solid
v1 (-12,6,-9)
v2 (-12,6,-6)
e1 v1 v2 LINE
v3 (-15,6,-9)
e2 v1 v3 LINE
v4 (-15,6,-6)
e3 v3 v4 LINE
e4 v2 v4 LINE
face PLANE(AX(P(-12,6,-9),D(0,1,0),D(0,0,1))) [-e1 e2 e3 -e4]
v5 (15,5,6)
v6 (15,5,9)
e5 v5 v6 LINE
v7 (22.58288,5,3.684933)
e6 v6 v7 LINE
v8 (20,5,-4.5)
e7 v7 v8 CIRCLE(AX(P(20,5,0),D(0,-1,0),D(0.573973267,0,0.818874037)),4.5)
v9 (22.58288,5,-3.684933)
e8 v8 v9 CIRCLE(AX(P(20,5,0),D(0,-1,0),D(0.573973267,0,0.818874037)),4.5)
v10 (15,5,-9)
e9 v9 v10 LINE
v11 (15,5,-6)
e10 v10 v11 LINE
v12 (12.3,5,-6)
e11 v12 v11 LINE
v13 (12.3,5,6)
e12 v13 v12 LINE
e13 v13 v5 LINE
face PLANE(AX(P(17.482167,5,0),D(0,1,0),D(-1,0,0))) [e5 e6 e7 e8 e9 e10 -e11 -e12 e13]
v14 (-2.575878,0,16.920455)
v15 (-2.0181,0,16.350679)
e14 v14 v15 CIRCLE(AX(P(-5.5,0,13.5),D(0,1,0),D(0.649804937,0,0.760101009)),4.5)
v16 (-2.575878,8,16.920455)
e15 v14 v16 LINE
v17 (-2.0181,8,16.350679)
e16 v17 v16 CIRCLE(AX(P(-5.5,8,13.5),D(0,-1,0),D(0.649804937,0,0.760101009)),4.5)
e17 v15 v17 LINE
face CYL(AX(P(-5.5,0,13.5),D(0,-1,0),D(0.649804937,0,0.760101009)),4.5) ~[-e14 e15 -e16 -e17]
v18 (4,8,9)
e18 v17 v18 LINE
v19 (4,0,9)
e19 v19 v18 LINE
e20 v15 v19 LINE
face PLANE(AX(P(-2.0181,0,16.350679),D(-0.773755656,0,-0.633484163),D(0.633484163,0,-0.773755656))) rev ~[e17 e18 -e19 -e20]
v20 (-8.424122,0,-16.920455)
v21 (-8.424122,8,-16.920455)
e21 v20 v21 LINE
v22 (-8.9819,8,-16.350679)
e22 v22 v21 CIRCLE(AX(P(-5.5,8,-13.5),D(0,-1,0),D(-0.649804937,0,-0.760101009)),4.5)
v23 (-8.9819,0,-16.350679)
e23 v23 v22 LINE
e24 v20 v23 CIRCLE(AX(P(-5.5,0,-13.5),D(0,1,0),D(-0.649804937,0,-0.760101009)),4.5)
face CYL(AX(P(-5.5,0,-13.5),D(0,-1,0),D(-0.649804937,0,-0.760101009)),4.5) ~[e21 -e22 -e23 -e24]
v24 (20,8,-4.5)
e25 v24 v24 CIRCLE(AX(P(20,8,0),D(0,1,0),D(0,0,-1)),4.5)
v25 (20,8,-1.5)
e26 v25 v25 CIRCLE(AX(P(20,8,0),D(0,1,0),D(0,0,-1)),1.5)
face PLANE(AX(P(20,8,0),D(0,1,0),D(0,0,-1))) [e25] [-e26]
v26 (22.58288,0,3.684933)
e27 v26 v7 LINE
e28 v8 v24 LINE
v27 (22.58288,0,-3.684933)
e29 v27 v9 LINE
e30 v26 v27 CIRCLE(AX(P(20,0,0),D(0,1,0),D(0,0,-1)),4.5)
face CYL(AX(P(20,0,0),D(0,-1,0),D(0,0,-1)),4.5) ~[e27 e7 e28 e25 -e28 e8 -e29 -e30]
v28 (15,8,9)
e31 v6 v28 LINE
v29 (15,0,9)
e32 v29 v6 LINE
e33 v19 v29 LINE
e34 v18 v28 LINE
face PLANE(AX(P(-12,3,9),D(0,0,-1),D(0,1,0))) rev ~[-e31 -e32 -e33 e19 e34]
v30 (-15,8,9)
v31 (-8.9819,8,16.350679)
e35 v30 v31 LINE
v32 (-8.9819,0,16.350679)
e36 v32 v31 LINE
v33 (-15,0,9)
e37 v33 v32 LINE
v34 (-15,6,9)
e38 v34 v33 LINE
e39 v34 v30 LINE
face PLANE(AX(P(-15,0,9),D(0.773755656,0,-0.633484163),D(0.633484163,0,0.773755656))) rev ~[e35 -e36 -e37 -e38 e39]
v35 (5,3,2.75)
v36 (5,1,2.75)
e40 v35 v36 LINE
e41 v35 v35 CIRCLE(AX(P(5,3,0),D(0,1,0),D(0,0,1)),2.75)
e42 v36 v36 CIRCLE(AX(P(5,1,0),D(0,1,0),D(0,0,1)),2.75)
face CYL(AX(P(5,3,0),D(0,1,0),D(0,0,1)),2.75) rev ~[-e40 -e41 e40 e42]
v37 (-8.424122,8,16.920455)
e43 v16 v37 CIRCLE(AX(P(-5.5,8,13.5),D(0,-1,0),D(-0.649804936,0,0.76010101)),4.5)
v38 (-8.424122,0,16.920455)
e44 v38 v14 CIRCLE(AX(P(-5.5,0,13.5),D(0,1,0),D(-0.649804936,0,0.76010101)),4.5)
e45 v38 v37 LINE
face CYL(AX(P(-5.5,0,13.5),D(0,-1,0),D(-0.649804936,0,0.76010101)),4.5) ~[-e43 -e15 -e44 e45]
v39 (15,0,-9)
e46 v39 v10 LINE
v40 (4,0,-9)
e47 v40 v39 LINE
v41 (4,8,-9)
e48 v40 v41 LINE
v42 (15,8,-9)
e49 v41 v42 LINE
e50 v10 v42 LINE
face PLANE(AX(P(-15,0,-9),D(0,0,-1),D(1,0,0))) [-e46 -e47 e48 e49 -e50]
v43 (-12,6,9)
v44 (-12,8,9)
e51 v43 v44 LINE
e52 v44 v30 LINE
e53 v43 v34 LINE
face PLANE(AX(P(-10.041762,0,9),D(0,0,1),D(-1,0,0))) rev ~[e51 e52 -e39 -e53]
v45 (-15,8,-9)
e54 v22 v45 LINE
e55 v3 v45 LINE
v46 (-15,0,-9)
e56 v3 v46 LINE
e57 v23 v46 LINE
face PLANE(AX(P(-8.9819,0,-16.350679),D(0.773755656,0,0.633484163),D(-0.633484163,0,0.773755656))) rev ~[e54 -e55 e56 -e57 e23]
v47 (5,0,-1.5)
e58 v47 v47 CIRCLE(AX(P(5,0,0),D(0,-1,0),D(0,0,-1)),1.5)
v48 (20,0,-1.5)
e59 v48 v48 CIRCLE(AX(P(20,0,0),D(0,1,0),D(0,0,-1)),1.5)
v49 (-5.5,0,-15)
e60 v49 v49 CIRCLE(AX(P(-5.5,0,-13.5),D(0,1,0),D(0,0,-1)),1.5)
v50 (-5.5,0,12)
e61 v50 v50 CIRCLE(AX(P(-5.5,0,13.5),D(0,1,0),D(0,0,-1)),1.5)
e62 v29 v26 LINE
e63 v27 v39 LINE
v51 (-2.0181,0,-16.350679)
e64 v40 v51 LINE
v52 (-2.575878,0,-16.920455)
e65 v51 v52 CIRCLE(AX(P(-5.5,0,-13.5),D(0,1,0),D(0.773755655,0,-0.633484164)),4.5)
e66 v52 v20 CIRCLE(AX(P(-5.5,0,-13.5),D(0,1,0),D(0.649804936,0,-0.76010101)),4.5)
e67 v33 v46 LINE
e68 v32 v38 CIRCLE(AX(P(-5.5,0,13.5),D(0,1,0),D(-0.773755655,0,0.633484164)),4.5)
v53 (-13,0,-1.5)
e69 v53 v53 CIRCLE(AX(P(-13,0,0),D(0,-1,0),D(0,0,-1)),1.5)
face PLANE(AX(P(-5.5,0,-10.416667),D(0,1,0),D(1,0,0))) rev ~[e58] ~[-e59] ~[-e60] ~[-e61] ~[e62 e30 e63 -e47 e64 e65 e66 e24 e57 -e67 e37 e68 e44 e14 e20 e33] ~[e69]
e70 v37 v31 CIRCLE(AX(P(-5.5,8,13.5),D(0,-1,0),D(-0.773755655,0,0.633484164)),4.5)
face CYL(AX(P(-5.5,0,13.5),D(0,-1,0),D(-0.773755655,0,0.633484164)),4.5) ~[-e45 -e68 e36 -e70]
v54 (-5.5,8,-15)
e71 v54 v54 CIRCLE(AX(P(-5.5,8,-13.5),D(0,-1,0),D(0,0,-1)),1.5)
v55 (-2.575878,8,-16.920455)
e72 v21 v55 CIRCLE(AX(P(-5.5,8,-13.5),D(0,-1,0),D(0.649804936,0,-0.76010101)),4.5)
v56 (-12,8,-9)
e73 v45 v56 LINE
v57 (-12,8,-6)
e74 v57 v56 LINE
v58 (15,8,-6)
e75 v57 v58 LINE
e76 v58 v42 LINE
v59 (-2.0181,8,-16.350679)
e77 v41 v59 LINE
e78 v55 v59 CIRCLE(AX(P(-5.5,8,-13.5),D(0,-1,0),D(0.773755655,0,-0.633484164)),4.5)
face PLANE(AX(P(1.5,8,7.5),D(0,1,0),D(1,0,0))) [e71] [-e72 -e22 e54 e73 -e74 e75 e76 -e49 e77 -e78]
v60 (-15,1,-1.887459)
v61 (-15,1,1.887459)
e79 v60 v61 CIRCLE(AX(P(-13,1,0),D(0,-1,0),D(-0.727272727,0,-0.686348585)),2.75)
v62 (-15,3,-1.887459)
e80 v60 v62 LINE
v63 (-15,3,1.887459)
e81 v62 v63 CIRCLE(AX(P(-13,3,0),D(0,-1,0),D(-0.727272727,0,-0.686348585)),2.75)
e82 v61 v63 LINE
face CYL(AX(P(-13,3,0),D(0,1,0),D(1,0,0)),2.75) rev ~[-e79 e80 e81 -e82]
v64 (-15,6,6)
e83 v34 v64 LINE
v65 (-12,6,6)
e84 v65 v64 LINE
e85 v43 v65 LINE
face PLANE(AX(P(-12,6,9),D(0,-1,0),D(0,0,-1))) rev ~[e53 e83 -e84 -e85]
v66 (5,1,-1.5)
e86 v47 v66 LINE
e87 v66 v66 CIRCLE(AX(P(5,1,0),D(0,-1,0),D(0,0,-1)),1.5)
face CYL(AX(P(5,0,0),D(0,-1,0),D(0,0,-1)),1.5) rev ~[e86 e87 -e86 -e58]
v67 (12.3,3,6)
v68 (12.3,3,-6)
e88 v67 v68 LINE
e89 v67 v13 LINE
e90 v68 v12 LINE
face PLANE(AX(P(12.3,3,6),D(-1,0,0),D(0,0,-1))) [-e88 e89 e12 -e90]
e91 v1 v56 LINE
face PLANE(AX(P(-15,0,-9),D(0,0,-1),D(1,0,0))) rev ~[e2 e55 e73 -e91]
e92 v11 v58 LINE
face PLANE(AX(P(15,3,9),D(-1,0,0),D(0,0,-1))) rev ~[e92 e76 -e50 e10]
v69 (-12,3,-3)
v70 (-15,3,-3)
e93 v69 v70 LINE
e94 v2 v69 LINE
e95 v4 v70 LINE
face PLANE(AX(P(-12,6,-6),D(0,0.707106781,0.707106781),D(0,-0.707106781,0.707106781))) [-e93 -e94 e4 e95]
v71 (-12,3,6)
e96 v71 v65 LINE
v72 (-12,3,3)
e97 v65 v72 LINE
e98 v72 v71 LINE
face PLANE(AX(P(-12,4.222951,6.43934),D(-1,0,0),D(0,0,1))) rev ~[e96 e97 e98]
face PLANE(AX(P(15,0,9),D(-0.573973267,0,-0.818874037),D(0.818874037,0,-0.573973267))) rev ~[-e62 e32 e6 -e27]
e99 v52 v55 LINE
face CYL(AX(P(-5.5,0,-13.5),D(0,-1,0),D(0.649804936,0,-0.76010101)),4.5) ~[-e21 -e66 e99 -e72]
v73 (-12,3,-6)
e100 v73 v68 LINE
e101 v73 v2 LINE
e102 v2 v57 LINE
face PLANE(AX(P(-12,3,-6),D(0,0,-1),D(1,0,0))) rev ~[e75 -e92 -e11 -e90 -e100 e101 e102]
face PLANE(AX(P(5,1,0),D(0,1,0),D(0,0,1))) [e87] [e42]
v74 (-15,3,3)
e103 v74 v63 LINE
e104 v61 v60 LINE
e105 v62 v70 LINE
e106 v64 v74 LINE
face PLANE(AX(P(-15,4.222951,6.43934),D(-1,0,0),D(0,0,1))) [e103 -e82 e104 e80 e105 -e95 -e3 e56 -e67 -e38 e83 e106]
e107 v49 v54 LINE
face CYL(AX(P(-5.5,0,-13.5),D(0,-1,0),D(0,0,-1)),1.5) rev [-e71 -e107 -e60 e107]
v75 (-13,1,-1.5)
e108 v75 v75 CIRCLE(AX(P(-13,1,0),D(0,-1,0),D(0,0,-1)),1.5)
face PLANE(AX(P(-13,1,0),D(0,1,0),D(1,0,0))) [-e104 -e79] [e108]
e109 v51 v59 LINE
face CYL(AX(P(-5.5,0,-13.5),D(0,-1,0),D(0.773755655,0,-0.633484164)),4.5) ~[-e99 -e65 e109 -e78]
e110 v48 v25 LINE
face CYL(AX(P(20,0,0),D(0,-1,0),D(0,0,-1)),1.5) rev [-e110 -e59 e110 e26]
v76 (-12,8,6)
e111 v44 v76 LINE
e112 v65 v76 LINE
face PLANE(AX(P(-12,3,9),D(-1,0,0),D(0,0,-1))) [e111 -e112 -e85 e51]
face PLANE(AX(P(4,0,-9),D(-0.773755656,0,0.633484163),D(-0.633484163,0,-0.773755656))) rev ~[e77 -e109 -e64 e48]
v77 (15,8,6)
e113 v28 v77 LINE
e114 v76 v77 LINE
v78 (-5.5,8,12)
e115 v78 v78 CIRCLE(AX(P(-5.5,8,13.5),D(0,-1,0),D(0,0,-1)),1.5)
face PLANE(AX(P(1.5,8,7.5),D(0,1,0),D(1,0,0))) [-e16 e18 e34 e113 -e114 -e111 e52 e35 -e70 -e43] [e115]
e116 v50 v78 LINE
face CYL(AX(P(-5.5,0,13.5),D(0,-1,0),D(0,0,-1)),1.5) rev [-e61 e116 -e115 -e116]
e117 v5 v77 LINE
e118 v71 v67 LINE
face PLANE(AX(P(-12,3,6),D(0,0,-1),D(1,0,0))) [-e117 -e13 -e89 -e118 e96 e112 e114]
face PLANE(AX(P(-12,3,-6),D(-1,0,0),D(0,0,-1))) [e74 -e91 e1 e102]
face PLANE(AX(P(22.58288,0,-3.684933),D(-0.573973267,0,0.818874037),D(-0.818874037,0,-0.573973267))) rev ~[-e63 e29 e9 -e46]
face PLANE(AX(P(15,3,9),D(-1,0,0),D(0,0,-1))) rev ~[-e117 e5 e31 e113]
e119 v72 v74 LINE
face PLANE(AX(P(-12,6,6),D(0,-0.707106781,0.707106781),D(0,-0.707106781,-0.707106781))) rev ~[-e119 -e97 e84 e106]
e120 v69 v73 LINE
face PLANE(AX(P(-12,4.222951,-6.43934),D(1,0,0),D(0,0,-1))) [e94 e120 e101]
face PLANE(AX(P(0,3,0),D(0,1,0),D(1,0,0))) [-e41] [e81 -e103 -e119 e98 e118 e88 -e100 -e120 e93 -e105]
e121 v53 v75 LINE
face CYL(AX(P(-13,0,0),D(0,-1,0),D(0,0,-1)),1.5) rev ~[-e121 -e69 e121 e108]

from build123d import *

# Parameters (mm, degrees)
SKETCH_1_W          = 30
SKETCH_1_H          = 18
EXTRUDE_1_DEPTH     = 3
SKETCH_2_W          = 27
SKETCH_2_H          = 3
EXTRUDE_2_DEPTH     = 5
SKETCH_3_W          = 2.7
SKETCH_3_H          = 12
EXTRUDE_3_DEPTH     = 2
SKETCH_4_R          = 4.5
SKETCH_4_R_2        = 1.5
EXTRUDE_4_DEPTH     = 8
EXTRUDE_5_DEPTH     = 5
EXTRUDE_6_DEPTH     = 3
SKETCH_11_R         = 1.5
CUT_EXTRUDE_1_DEPTH = 3
SKETCH_12_R         = 2.75
CUT_EXTRUDE_2_DEPTH = 2
EXTRUDE_7_REACH     = 29.299
SKETCH_8_R          = 1.5
SKETCH_8_R_2        = 0.75
SKETCH_13_R         = 1.5
CUT_EXTRUDE_3_DEPTH = 3
SKETCH_14_R         = 2.75
CUT_EXTRUDE_4_DEPTH = 2


with BuildPart() as part:
    # Эскиз1 → Бобышка-Вытянуть1 (new body)
    with BuildSketch(Plane(origin=(0, 0, 0), x_dir=(1, 0, 0), z_dir=(0, 1, 0))):
        Rectangle(SKETCH_1_W, SKETCH_1_H)
    extrude(amount=EXTRUDE_1_DEPTH)

    # Эскиз2 → Бобышка-Вытянуть2 (add)
    with BuildSketch(Plane(origin=(0, 3, 0), x_dir=(1, 0, 0), z_dir=(0, 1, 0))):
        with Locations((1.5, -7.5)):
            Rectangle(SKETCH_2_W, SKETCH_2_H)
        with Locations((1.5, 7.5)):
            Rectangle(SKETCH_2_W, SKETCH_2_H)
    extrude(amount=EXTRUDE_2_DEPTH)

    # Эскиз3 → Бобышка-Вытянуть3 (add)
    with BuildSketch(Plane(origin=(0, 3, 0), x_dir=(1, 0, 0), z_dir=(0, 1, 0))):
        with Locations((13.65, 0)):
            Rectangle(SKETCH_3_W, SKETCH_3_H)
    extrude(amount=EXTRUDE_3_DEPTH)



with BuildPart() as body_2:
    # Эскиз4 → Бобышка-Вытянуть4 (new body)
    with BuildSketch(Plane(origin=(0, 0, 0), x_dir=(1, 0, 0), z_dir=(0, 1, 0))):
        with Locations(Location((20, 0, 0), (0, 0, 90))):
            Circle(SKETCH_4_R)
        with Locations(Location((20, 0, 0), (0, 0, 90))):
            Circle(SKETCH_4_R_2, mode=Mode.SUBTRACT)
    extrude(amount=EXTRUDE_4_DEPTH)


with BuildPart() as part_1:
    add(part.part)

    add(body_2.part)  # Бобышка-Вытянуть5 merges body 2
    # Эскиз5 → Бобышка-Вытянуть5 (add)
    with BuildSketch(Plane.XZ):
        with BuildLine():
            Line((15, 9), (22.582879701, 3.684933167))
            ThreePointArc((22.582879701, 3.684933167), (15.5, 0), (22.582879701, -3.684933167))
            Line((22.582879701, -3.684933167), (15, -9))
            Line((15, -9), (15, 9))
        make_face()
    extrude(amount=-EXTRUDE_5_DEPTH)

    # Эскиз7 → Бобышка-Вытянуть6 (add)
    with BuildSketch(Plane.ZY.offset(12)):
        Polygon((9, 6), (6, 6), (3, 3), (9, 3), align=None)
        Polygon((-3, 3), (-9, 3), (-9, 6), (-6, 6), align=None)
    extrude(amount=EXTRUDE_6_DEPTH)

    # Эскиз11 → Вырез-Вытянуть1 (cut)
    with BuildSketch(Plane.XZ):
        with Locations(Location((-13, 0, 0), (0, 0, 270))):
            Circle(SKETCH_11_R)
    extrude(amount=-CUT_EXTRUDE_1_DEPTH, mode=Mode.SUBTRACT)

    # Эскиз12 → Вырез-Вытянуть2 (cut)
    with BuildSketch(Plane(origin=(0, 3, 0), x_dir=(1, 0, 0), z_dir=(0, 1, 0))):
        with Locations((-13, 0)):
            Circle(SKETCH_12_R)
    extrude(amount=-CUT_EXTRUDE_2_DEPTH, mode=Mode.SUBTRACT)

    # Бобышка-Вытянуть7: up to this face of the body (flat: up to its plane)
    extrude_7_end = Plane(part_1.part.faces().sort_by_distance((1.5, 8, 7.5))[0])
    # Эскиз8 → Бобышка-Вытянуть7 (add, up to the picked face)
    with BuildSketch(Plane(origin=(0, 0, 0), x_dir=(1, 0, 0), z_dir=(0, 1, 0)), mode=Mode.PRIVATE) as extrude_7_sk1:
        with BuildLine():
            Line((-1.468642293, 11.500461294), (-0.958237769, 9))
            Line((-0.958237769, 9), (4, 9))
            Line((4, 9), (-2.018099548, 16.350678733))
            ThreePointArc((-2.018099548, 16.350678733), (-1.262161398, 15.013513786), (-1, 13.5))
            ThreePointArc((-1, 13.5), (-1.118726801, 12.473138199), (-1.468642293, 11.500461294))
        make_face()
    extrude_7_tool1 = split(extrude(extrude_7_sk1.sketch, amount=EXTRUDE_7_REACH, mode=Mode.PRIVATE), bisect_by=extrude_7_end, keep=Keep.BOTH, mode=Mode.PRIVATE)
    # Эскиз8 → Бобышка-Вытянуть7 (add, up to the picked face)
    with BuildSketch(Plane(origin=(0, 0, 0), x_dir=(1, 0, 0), z_dir=(0, 1, 0)), mode=Mode.PRIVATE) as extrude_7_sk2:
        with BuildLine():
            ThreePointArc((-2.018099548, 16.350678733), (-2.284344125, 16.647944931), (-2.575877789, 16.920454545))
            ThreePointArc((-2.575877789, 16.920454545), (-2.568033415, 16.885273128), (-2.560612309, 16.85))
            Line((-2.560612309, 16.85), (-1.468642293, 11.500461294))
            ThreePointArc((-1.468642293, 11.500461294), (-1.118726801, 12.473138199), (-1, 13.5))
            ThreePointArc((-1, 13.5), (-1.262161398, 15.013513786), (-2.018099548, 16.350678733))
        make_face()
    extrude_7_tool2 = split(extrude(extrude_7_sk2.sketch, amount=EXTRUDE_7_REACH, mode=Mode.PRIVATE), bisect_by=extrude_7_end, keep=Keep.BOTH, mode=Mode.PRIVATE)
    # Эскиз8 → Бобышка-Вытянуть7 (add, up to the picked face)
    with BuildSketch(Plane(origin=(0, 0, 0), x_dir=(1, 0, 0), z_dir=(0, 1, 0)), mode=Mode.PRIVATE) as extrude_7_sk3:
        with BuildLine():
            ThreePointArc((-2.575877789, 16.920454545), (-5.5, 18), (-8.424122211, 16.920454545))
            ThreePointArc((-8.424122211, 16.920454545), (-8.431966585, 16.885273128), (-8.439387691, 16.85))
            Line((-8.439387691, 16.85), (-9.531357707, 11.500461294))
            ThreePointArc((-9.531357707, 11.500461294), (-7.871927046, 9.675871068), (-5.5, 9))
            ThreePointArc((-5.5, 9), (-3.128072954, 9.675871068), (-1.468642293, 11.500461294))
            Line((-1.468642293, 11.500461294), (-2.560612309, 16.85))
            ThreePointArc((-2.560612309, 16.85), (-2.568033415, 16.885273128), (-2.575877789, 16.920454545))
        make_face()
        with Locations(Location((-5.5, 13.5, 0), (0, 0, 90))):
            Circle(SKETCH_8_R, mode=Mode.SUBTRACT)
        with Locations((-5.5, 10.416666667)):
            Circle(SKETCH_8_R_2, mode=Mode.SUBTRACT)
        with Locations((-5.5, 16.25)):
            Circle(SKETCH_8_R_2, mode=Mode.SUBTRACT)
    extrude_7_tool3 = split(extrude(extrude_7_sk3.sketch, amount=EXTRUDE_7_REACH, mode=Mode.PRIVATE), bisect_by=extrude_7_end, keep=Keep.BOTH, mode=Mode.PRIVATE)
    # Эскиз8 → Бобышка-Вытянуть7 (add, up to the picked face)
    with BuildSketch(Plane(origin=(0, 0, 0), x_dir=(1, 0, 0), z_dir=(0, 1, 0)), mode=Mode.PRIVATE) as extrude_7_sk4:
        with BuildLine():
            ThreePointArc((-1.468642293, 11.500461294), (-3.128072954, 9.675871068), (-5.5, 9))
            Line((-5.5, 9), (-0.958237769, 9))
            Line((-0.958237769, 9), (-1.468642293, 11.500461294))
        make_face()
    extrude_7_tool4 = split(extrude(extrude_7_sk4.sketch, amount=EXTRUDE_7_REACH, mode=Mode.PRIVATE), bisect_by=extrude_7_end, keep=Keep.BOTH, mode=Mode.PRIVATE)
    # Эскиз8 → Бобышка-Вытянуть7 (add, up to the picked face)
    with BuildSketch(Plane(origin=(0, 0, 0), x_dir=(1, 0, 0), z_dir=(0, 1, 0)), mode=Mode.PRIVATE) as extrude_7_sk5:
        with BuildLine():
            Line((-8.981900452, 16.350678733), (-15, 9))
            Line((-15, 9), (-10.041762231, 9))
            Line((-10.041762231, 9), (-9.531357707, 11.500461294))
            ThreePointArc((-9.531357707, 11.500461294), (-9.971399596, 14.006542846), (-8.981900452, 16.350678733))
        make_face()
    extrude_7_tool5 = split(extrude(extrude_7_sk5.sketch, amount=EXTRUDE_7_REACH, mode=Mode.PRIVATE), bisect_by=extrude_7_end, keep=Keep.BOTH, mode=Mode.PRIVATE)
    # Эскиз8 → Бобышка-Вытянуть7 (add, up to the picked face)
    with BuildSketch(Plane(origin=(0, 0, 0), x_dir=(1, 0, 0), z_dir=(0, 1, 0)), mode=Mode.PRIVATE) as extrude_7_sk6:
        with BuildLine():
            ThreePointArc((-8.424122211, 16.920454545), (-8.715655875, 16.647944931), (-8.981900452, 16.350678733))
            ThreePointArc((-8.981900452, 16.350678733), (-9.971399596, 14.006542846), (-9.531357707, 11.500461294))
            Line((-9.531357707, 11.500461294), (-8.439387691, 16.85))
            ThreePointArc((-8.439387691, 16.85), (-8.431966585, 16.885273128), (-8.424122211, 16.920454545))
        make_face()
    extrude_7_tool6 = split(extrude(extrude_7_sk6.sketch, amount=EXTRUDE_7_REACH, mode=Mode.PRIVATE), bisect_by=extrude_7_end, keep=Keep.BOTH, mode=Mode.PRIVATE)
    # Эскиз8 → Бобышка-Вытянуть7 (add, up to the picked face)
    with BuildSketch(Plane(origin=(0, 0, 0), x_dir=(1, 0, 0), z_dir=(0, 1, 0)), mode=Mode.PRIVATE) as extrude_7_sk7:
        with BuildLine():
            Line((-9.531357707, 11.500461294), (-10.041762231, 9))
            Line((-10.041762231, 9), (-5.5, 9))
            ThreePointArc((-5.5, 9), (-7.871927046, 9.675871068), (-9.531357707, 11.500461294))
        make_face()
    extrude_7_tool7 = split(extrude(extrude_7_sk7.sketch, amount=EXTRUDE_7_REACH, mode=Mode.PRIVATE), bisect_by=extrude_7_end, keep=Keep.BOTH, mode=Mode.PRIVATE)
    # Эскиз8 → Бобышка-Вытянуть7 (add, up to the picked face)
    with BuildSketch(Plane(origin=(0, 0, 0), x_dir=(1, 0, 0), z_dir=(0, 1, 0)), mode=Mode.PRIVATE) as extrude_7_sk8:
        with BuildLine():
            Line((-2.018099548, -16.350678733), (4, -9))
            Line((4, -9), (-0.958237769, -9))
            Line((-0.958237769, -9), (-1.468642293, -11.500461294))
            ThreePointArc((-1.468642293, -11.500461294), (-1.118726801, -12.473138199), (-1, -13.5))
            ThreePointArc((-1, -13.5), (-1.262161398, -15.013513786), (-2.018099548, -16.350678733))
        make_face()
    extrude_7_tool8 = split(extrude(extrude_7_sk8.sketch, amount=EXTRUDE_7_REACH, mode=Mode.PRIVATE), bisect_by=extrude_7_end, keep=Keep.BOTH, mode=Mode.PRIVATE)
    # Эскиз8 → Бобышка-Вытянуть7 (add, up to the picked face)
    with BuildSketch(Plane(origin=(0, 0, 0), x_dir=(1, 0, 0), z_dir=(0, 1, 0)), mode=Mode.PRIVATE) as extrude_7_sk9:
        with BuildLine():
            Line((-1.468642293, -11.500461294), (-0.958237769, -9))
            Line((-0.958237769, -9), (-5.5, -9))
            ThreePointArc((-5.5, -9), (-3.128072954, -9.675871068), (-1.468642293, -11.500461294))
        make_face()
    extrude_7_tool9 = split(extrude(extrude_7_sk9.sketch, amount=EXTRUDE_7_REACH, mode=Mode.PRIVATE), bisect_by=extrude_7_end, keep=Keep.BOTH, mode=Mode.PRIVATE)
    # Эскиз8 → Бобышка-Вытянуть7 (add, up to the picked face)
    with BuildSketch(Plane(origin=(0, 0, 0), x_dir=(1, 0, 0), z_dir=(0, 1, 0)), mode=Mode.PRIVATE) as extrude_7_sk10:
        with BuildLine():
            ThreePointArc((-9.531357707, -11.500461294), (-7.871927046, -9.675871068), (-5.5, -9))
            Line((-5.5, -9), (-10.041762231, -9))
            Line((-10.041762231, -9), (-9.531357707, -11.500461294))
        make_face()
    extrude_7_tool10 = split(extrude(extrude_7_sk10.sketch, amount=EXTRUDE_7_REACH, mode=Mode.PRIVATE), bisect_by=extrude_7_end, keep=Keep.BOTH, mode=Mode.PRIVATE)
    # Эскиз8 → Бобышка-Вытянуть7 (add, up to the picked face)
    with BuildSketch(Plane(origin=(0, 0, 0), x_dir=(1, 0, 0), z_dir=(0, 1, 0)), mode=Mode.PRIVATE) as extrude_7_sk11:
        with BuildLine():
            Line((-9.531357707, -11.500461294), (-10.041762231, -9))
            Line((-10.041762231, -9), (-15, -9))
            Line((-15, -9), (-8.981900452, -16.350678733))
            ThreePointArc((-8.981900452, -16.350678733), (-9.971399596, -14.006542846), (-9.531357707, -11.500461294))
        make_face()
    extrude_7_tool11 = split(extrude(extrude_7_sk11.sketch, amount=EXTRUDE_7_REACH, mode=Mode.PRIVATE), bisect_by=extrude_7_end, keep=Keep.BOTH, mode=Mode.PRIVATE)
    # Эскиз8 → Бобышка-Вытянуть7 (add, up to the picked face)
    with BuildSketch(Plane(origin=(0, 0, 0), x_dir=(1, 0, 0), z_dir=(0, 1, 0)), mode=Mode.PRIVATE) as extrude_7_sk12:
        with BuildLine():
            ThreePointArc((-8.424122211, -16.920454545), (-5.5, -18), (-2.575877789, -16.920454545))
            ThreePointArc((-2.575877789, -16.920454545), (-2.568033415, -16.885273128), (-2.560612309, -16.85))
            Line((-2.560612309, -16.85), (-1.468642293, -11.500461294))
            ThreePointArc((-1.468642293, -11.500461294), (-3.128072954, -9.675871068), (-5.5, -9))
            ThreePointArc((-5.5, -9), (-7.871927046, -9.675871068), (-9.531357707, -11.500461294))
            Line((-9.531357707, -11.500461294), (-8.439387691, -16.85))
            ThreePointArc((-8.439387691, -16.85), (-8.431966585, -16.885273128), (-8.424122211, -16.920454545))
        make_face()
        with Locations(Location((-5.5, -13.5, 0), (0, 0, 90))):
            Circle(SKETCH_8_R, mode=Mode.SUBTRACT)
        with Locations((-5.5, -16.25)):
            Circle(SKETCH_8_R_2, mode=Mode.SUBTRACT)
        with Locations((-5.5, -10.416666667)):
            Circle(SKETCH_8_R_2, mode=Mode.SUBTRACT)
    extrude_7_tool12 = split(extrude(extrude_7_sk12.sketch, amount=EXTRUDE_7_REACH, mode=Mode.PRIVATE), bisect_by=extrude_7_end, keep=Keep.BOTH, mode=Mode.PRIVATE)
    # Эскиз8 → Бобышка-Вытянуть7 (add, up to the picked face)
    with BuildSketch(Plane(origin=(0, 0, 0), x_dir=(1, 0, 0), z_dir=(0, 1, 0)), mode=Mode.PRIVATE) as extrude_7_sk13:
        with BuildLine():
            ThreePointArc((-2.575877789, -16.920454545), (-2.284344125, -16.647944931), (-2.018099548, -16.350678733))
            ThreePointArc((-2.018099548, -16.350678733), (-1.262161398, -15.013513786), (-1, -13.5))
            ThreePointArc((-1, -13.5), (-1.118726801, -12.473138199), (-1.468642293, -11.500461294))
            Line((-1.468642293, -11.500461294), (-2.560612309, -16.85))
            ThreePointArc((-2.560612309, -16.85), (-2.568033415, -16.885273128), (-2.575877789, -16.920454545))
        make_face()
    extrude_7_tool13 = split(extrude(extrude_7_sk13.sketch, amount=EXTRUDE_7_REACH, mode=Mode.PRIVATE), bisect_by=extrude_7_end, keep=Keep.BOTH, mode=Mode.PRIVATE)
    # Эскиз8 → Бобышка-Вытянуть7 (add, up to the picked face)
    with BuildSketch(Plane(origin=(0, 0, 0), x_dir=(1, 0, 0), z_dir=(0, 1, 0)), mode=Mode.PRIVATE) as extrude_7_sk14:
        with BuildLine():
            ThreePointArc((-8.981900452, -16.350678733), (-8.715655875, -16.647944931), (-8.424122211, -16.920454545))
            ThreePointArc((-8.424122211, -16.920454545), (-8.431966585, -16.885273128), (-8.439387691, -16.85))
            Line((-8.439387691, -16.85), (-9.531357707, -11.500461294))
            ThreePointArc((-9.531357707, -11.500461294), (-9.971399596, -14.006542846), (-8.981900452, -16.350678733))
        make_face()
    extrude_7_tool14 = split(extrude(extrude_7_sk14.sketch, amount=EXTRUDE_7_REACH, mode=Mode.PRIVATE), bisect_by=extrude_7_end, keep=Keep.BOTH, mode=Mode.PRIVATE)
    # Эскиз8 → Бобышка-Вытянуть7 (add, up to the picked face)
    with BuildSketch(Plane(origin=(0, 0, 0), x_dir=(1, 0, 0), z_dir=(0, 1, 0)), mode=Mode.PRIVATE) as extrude_7_sk15:
        with Locations((-5.5, -10.416666667)):
            Circle(SKETCH_8_R_2)
    extrude_7_tool15 = split(extrude(extrude_7_sk15.sketch, amount=EXTRUDE_7_REACH, mode=Mode.PRIVATE), bisect_by=extrude_7_end, keep=Keep.BOTH, mode=Mode.PRIVATE)
    # Эскиз8 → Бобышка-Вытянуть7 (add, up to the picked face)
    with BuildSketch(Plane(origin=(0, 0, 0), x_dir=(1, 0, 0), z_dir=(0, 1, 0)), mode=Mode.PRIVATE) as extrude_7_sk16:
        with Locations((-5.5, -16.25)):
            Circle(SKETCH_8_R_2)
    extrude_7_tool16 = split(extrude(extrude_7_sk16.sketch, amount=EXTRUDE_7_REACH, mode=Mode.PRIVATE), bisect_by=extrude_7_end, keep=Keep.BOTH, mode=Mode.PRIVATE)
    # Эскиз8 → Бобышка-Вытянуть7 (add, up to the picked face)
    with BuildSketch(Plane(origin=(0, 0, 0), x_dir=(1, 0, 0), z_dir=(0, 1, 0)), mode=Mode.PRIVATE) as extrude_7_sk17:
        with Locations((-5.5, 16.25)):
            Circle(SKETCH_8_R_2)
    extrude_7_tool17 = split(extrude(extrude_7_sk17.sketch, amount=EXTRUDE_7_REACH, mode=Mode.PRIVATE), bisect_by=extrude_7_end, keep=Keep.BOTH, mode=Mode.PRIVATE)
    # Эскиз8 → Бобышка-Вытянуть7 (add, up to the picked face)
    with BuildSketch(Plane(origin=(0, 0, 0), x_dir=(1, 0, 0), z_dir=(0, 1, 0)), mode=Mode.PRIVATE) as extrude_7_sk18:
        with Locations((-5.5, 10.416666667)):
            Circle(SKETCH_8_R_2)
    extrude_7_tool18 = split(extrude(extrude_7_sk18.sketch, amount=EXTRUDE_7_REACH, mode=Mode.PRIVATE), bisect_by=extrude_7_end, keep=Keep.BOTH, mode=Mode.PRIVATE)
    add(extrude_7_tool1.solids().sort_by(Axis((0.540923, 0, -11.113959), (0, 1, 0)))[0])
    add(extrude_7_tool2.solids().sort_by(Axis((-1.645819, 0, -14.286747), (0, 1, 0)))[0])
    add(extrude_7_tool3.solids().sort_by(Axis((-2.133019, 0, -14.151064), (0, 1, 0)))[0])
    add(extrude_7_tool4.solids().sort_by(Axis((-2.209616, 0, -9.718622), (0, 1, 0)))[0])
    add(extrude_7_tool5.solids().sort_by(Axis((-11.540923, 0, -11.113959), (0, 1, 0)))[0])
    add(extrude_7_tool6.solids().sort_by(Axis((-9.354181, 0, -14.286747), (0, 1, 0)))[0])
    add(extrude_7_tool7.solids().sort_by(Axis((-8.790384, 0, -9.718622), (0, 1, 0)))[0])
    add(extrude_7_tool8.solids().sort_by(Axis((0.540923, 0, 11.113959), (0, 1, 0)))[0])
    add(extrude_7_tool9.solids().sort_by(Axis((-2.209616, 0, 9.718622), (0, 1, 0)))[0])
    add(extrude_7_tool10.solids().sort_by(Axis((-8.790384, 0, 9.718622), (0, 1, 0)))[0])
    add(extrude_7_tool11.solids().sort_by(Axis((-11.540923, 0, 11.113959), (0, 1, 0)))[0])
    add(extrude_7_tool12.solids().sort_by(Axis((-5.5, 0, 17.879166), (0, 1, 0)))[0])
    add(extrude_7_tool13.solids().sort_by(Axis((-1.645819, 0, 14.286747), (0, 1, 0)))[0])
    add(extrude_7_tool14.solids().sort_by(Axis((-9.354181, 0, 14.286747), (0, 1, 0)))[0])
    add(extrude_7_tool15.solids().sort_by(Axis((-5.5, 0, 10.416667), (0, 1, 0)))[0])
    add(extrude_7_tool16.solids().sort_by(Axis((-5.5, 0, 16.25), (0, 1, 0)))[0])
    add(extrude_7_tool17.solids().sort_by(Axis((-5.5, 0, -16.25), (0, 1, 0)))[0])
    add(extrude_7_tool18.solids().sort_by(Axis((-5.5, 0, -10.416667), (0, 1, 0)))[0])

    # Эскиз13 → Вырез-Вытянуть3 (cut)
    with BuildSketch(Plane.XZ):
        with Locations(Location((5, 0, 0), (0, 0, 270))):
            Circle(SKETCH_13_R)
    extrude(amount=-CUT_EXTRUDE_3_DEPTH, mode=Mode.SUBTRACT)

    # Эскиз14 → Вырез-Вытянуть4 (cut)
    with BuildSketch(Plane(origin=(0, 3, 0), x_dir=(1, 0, 0), z_dir=(0, 1, 0))):
        with Locations(Location((5, 0, 0), (0, 0, 270))):
            Circle(SKETCH_14_R)
    extrude(amount=-CUT_EXTRUDE_4_DEPTH, mode=Mode.SUBTRACT)


solid = part_1.part
